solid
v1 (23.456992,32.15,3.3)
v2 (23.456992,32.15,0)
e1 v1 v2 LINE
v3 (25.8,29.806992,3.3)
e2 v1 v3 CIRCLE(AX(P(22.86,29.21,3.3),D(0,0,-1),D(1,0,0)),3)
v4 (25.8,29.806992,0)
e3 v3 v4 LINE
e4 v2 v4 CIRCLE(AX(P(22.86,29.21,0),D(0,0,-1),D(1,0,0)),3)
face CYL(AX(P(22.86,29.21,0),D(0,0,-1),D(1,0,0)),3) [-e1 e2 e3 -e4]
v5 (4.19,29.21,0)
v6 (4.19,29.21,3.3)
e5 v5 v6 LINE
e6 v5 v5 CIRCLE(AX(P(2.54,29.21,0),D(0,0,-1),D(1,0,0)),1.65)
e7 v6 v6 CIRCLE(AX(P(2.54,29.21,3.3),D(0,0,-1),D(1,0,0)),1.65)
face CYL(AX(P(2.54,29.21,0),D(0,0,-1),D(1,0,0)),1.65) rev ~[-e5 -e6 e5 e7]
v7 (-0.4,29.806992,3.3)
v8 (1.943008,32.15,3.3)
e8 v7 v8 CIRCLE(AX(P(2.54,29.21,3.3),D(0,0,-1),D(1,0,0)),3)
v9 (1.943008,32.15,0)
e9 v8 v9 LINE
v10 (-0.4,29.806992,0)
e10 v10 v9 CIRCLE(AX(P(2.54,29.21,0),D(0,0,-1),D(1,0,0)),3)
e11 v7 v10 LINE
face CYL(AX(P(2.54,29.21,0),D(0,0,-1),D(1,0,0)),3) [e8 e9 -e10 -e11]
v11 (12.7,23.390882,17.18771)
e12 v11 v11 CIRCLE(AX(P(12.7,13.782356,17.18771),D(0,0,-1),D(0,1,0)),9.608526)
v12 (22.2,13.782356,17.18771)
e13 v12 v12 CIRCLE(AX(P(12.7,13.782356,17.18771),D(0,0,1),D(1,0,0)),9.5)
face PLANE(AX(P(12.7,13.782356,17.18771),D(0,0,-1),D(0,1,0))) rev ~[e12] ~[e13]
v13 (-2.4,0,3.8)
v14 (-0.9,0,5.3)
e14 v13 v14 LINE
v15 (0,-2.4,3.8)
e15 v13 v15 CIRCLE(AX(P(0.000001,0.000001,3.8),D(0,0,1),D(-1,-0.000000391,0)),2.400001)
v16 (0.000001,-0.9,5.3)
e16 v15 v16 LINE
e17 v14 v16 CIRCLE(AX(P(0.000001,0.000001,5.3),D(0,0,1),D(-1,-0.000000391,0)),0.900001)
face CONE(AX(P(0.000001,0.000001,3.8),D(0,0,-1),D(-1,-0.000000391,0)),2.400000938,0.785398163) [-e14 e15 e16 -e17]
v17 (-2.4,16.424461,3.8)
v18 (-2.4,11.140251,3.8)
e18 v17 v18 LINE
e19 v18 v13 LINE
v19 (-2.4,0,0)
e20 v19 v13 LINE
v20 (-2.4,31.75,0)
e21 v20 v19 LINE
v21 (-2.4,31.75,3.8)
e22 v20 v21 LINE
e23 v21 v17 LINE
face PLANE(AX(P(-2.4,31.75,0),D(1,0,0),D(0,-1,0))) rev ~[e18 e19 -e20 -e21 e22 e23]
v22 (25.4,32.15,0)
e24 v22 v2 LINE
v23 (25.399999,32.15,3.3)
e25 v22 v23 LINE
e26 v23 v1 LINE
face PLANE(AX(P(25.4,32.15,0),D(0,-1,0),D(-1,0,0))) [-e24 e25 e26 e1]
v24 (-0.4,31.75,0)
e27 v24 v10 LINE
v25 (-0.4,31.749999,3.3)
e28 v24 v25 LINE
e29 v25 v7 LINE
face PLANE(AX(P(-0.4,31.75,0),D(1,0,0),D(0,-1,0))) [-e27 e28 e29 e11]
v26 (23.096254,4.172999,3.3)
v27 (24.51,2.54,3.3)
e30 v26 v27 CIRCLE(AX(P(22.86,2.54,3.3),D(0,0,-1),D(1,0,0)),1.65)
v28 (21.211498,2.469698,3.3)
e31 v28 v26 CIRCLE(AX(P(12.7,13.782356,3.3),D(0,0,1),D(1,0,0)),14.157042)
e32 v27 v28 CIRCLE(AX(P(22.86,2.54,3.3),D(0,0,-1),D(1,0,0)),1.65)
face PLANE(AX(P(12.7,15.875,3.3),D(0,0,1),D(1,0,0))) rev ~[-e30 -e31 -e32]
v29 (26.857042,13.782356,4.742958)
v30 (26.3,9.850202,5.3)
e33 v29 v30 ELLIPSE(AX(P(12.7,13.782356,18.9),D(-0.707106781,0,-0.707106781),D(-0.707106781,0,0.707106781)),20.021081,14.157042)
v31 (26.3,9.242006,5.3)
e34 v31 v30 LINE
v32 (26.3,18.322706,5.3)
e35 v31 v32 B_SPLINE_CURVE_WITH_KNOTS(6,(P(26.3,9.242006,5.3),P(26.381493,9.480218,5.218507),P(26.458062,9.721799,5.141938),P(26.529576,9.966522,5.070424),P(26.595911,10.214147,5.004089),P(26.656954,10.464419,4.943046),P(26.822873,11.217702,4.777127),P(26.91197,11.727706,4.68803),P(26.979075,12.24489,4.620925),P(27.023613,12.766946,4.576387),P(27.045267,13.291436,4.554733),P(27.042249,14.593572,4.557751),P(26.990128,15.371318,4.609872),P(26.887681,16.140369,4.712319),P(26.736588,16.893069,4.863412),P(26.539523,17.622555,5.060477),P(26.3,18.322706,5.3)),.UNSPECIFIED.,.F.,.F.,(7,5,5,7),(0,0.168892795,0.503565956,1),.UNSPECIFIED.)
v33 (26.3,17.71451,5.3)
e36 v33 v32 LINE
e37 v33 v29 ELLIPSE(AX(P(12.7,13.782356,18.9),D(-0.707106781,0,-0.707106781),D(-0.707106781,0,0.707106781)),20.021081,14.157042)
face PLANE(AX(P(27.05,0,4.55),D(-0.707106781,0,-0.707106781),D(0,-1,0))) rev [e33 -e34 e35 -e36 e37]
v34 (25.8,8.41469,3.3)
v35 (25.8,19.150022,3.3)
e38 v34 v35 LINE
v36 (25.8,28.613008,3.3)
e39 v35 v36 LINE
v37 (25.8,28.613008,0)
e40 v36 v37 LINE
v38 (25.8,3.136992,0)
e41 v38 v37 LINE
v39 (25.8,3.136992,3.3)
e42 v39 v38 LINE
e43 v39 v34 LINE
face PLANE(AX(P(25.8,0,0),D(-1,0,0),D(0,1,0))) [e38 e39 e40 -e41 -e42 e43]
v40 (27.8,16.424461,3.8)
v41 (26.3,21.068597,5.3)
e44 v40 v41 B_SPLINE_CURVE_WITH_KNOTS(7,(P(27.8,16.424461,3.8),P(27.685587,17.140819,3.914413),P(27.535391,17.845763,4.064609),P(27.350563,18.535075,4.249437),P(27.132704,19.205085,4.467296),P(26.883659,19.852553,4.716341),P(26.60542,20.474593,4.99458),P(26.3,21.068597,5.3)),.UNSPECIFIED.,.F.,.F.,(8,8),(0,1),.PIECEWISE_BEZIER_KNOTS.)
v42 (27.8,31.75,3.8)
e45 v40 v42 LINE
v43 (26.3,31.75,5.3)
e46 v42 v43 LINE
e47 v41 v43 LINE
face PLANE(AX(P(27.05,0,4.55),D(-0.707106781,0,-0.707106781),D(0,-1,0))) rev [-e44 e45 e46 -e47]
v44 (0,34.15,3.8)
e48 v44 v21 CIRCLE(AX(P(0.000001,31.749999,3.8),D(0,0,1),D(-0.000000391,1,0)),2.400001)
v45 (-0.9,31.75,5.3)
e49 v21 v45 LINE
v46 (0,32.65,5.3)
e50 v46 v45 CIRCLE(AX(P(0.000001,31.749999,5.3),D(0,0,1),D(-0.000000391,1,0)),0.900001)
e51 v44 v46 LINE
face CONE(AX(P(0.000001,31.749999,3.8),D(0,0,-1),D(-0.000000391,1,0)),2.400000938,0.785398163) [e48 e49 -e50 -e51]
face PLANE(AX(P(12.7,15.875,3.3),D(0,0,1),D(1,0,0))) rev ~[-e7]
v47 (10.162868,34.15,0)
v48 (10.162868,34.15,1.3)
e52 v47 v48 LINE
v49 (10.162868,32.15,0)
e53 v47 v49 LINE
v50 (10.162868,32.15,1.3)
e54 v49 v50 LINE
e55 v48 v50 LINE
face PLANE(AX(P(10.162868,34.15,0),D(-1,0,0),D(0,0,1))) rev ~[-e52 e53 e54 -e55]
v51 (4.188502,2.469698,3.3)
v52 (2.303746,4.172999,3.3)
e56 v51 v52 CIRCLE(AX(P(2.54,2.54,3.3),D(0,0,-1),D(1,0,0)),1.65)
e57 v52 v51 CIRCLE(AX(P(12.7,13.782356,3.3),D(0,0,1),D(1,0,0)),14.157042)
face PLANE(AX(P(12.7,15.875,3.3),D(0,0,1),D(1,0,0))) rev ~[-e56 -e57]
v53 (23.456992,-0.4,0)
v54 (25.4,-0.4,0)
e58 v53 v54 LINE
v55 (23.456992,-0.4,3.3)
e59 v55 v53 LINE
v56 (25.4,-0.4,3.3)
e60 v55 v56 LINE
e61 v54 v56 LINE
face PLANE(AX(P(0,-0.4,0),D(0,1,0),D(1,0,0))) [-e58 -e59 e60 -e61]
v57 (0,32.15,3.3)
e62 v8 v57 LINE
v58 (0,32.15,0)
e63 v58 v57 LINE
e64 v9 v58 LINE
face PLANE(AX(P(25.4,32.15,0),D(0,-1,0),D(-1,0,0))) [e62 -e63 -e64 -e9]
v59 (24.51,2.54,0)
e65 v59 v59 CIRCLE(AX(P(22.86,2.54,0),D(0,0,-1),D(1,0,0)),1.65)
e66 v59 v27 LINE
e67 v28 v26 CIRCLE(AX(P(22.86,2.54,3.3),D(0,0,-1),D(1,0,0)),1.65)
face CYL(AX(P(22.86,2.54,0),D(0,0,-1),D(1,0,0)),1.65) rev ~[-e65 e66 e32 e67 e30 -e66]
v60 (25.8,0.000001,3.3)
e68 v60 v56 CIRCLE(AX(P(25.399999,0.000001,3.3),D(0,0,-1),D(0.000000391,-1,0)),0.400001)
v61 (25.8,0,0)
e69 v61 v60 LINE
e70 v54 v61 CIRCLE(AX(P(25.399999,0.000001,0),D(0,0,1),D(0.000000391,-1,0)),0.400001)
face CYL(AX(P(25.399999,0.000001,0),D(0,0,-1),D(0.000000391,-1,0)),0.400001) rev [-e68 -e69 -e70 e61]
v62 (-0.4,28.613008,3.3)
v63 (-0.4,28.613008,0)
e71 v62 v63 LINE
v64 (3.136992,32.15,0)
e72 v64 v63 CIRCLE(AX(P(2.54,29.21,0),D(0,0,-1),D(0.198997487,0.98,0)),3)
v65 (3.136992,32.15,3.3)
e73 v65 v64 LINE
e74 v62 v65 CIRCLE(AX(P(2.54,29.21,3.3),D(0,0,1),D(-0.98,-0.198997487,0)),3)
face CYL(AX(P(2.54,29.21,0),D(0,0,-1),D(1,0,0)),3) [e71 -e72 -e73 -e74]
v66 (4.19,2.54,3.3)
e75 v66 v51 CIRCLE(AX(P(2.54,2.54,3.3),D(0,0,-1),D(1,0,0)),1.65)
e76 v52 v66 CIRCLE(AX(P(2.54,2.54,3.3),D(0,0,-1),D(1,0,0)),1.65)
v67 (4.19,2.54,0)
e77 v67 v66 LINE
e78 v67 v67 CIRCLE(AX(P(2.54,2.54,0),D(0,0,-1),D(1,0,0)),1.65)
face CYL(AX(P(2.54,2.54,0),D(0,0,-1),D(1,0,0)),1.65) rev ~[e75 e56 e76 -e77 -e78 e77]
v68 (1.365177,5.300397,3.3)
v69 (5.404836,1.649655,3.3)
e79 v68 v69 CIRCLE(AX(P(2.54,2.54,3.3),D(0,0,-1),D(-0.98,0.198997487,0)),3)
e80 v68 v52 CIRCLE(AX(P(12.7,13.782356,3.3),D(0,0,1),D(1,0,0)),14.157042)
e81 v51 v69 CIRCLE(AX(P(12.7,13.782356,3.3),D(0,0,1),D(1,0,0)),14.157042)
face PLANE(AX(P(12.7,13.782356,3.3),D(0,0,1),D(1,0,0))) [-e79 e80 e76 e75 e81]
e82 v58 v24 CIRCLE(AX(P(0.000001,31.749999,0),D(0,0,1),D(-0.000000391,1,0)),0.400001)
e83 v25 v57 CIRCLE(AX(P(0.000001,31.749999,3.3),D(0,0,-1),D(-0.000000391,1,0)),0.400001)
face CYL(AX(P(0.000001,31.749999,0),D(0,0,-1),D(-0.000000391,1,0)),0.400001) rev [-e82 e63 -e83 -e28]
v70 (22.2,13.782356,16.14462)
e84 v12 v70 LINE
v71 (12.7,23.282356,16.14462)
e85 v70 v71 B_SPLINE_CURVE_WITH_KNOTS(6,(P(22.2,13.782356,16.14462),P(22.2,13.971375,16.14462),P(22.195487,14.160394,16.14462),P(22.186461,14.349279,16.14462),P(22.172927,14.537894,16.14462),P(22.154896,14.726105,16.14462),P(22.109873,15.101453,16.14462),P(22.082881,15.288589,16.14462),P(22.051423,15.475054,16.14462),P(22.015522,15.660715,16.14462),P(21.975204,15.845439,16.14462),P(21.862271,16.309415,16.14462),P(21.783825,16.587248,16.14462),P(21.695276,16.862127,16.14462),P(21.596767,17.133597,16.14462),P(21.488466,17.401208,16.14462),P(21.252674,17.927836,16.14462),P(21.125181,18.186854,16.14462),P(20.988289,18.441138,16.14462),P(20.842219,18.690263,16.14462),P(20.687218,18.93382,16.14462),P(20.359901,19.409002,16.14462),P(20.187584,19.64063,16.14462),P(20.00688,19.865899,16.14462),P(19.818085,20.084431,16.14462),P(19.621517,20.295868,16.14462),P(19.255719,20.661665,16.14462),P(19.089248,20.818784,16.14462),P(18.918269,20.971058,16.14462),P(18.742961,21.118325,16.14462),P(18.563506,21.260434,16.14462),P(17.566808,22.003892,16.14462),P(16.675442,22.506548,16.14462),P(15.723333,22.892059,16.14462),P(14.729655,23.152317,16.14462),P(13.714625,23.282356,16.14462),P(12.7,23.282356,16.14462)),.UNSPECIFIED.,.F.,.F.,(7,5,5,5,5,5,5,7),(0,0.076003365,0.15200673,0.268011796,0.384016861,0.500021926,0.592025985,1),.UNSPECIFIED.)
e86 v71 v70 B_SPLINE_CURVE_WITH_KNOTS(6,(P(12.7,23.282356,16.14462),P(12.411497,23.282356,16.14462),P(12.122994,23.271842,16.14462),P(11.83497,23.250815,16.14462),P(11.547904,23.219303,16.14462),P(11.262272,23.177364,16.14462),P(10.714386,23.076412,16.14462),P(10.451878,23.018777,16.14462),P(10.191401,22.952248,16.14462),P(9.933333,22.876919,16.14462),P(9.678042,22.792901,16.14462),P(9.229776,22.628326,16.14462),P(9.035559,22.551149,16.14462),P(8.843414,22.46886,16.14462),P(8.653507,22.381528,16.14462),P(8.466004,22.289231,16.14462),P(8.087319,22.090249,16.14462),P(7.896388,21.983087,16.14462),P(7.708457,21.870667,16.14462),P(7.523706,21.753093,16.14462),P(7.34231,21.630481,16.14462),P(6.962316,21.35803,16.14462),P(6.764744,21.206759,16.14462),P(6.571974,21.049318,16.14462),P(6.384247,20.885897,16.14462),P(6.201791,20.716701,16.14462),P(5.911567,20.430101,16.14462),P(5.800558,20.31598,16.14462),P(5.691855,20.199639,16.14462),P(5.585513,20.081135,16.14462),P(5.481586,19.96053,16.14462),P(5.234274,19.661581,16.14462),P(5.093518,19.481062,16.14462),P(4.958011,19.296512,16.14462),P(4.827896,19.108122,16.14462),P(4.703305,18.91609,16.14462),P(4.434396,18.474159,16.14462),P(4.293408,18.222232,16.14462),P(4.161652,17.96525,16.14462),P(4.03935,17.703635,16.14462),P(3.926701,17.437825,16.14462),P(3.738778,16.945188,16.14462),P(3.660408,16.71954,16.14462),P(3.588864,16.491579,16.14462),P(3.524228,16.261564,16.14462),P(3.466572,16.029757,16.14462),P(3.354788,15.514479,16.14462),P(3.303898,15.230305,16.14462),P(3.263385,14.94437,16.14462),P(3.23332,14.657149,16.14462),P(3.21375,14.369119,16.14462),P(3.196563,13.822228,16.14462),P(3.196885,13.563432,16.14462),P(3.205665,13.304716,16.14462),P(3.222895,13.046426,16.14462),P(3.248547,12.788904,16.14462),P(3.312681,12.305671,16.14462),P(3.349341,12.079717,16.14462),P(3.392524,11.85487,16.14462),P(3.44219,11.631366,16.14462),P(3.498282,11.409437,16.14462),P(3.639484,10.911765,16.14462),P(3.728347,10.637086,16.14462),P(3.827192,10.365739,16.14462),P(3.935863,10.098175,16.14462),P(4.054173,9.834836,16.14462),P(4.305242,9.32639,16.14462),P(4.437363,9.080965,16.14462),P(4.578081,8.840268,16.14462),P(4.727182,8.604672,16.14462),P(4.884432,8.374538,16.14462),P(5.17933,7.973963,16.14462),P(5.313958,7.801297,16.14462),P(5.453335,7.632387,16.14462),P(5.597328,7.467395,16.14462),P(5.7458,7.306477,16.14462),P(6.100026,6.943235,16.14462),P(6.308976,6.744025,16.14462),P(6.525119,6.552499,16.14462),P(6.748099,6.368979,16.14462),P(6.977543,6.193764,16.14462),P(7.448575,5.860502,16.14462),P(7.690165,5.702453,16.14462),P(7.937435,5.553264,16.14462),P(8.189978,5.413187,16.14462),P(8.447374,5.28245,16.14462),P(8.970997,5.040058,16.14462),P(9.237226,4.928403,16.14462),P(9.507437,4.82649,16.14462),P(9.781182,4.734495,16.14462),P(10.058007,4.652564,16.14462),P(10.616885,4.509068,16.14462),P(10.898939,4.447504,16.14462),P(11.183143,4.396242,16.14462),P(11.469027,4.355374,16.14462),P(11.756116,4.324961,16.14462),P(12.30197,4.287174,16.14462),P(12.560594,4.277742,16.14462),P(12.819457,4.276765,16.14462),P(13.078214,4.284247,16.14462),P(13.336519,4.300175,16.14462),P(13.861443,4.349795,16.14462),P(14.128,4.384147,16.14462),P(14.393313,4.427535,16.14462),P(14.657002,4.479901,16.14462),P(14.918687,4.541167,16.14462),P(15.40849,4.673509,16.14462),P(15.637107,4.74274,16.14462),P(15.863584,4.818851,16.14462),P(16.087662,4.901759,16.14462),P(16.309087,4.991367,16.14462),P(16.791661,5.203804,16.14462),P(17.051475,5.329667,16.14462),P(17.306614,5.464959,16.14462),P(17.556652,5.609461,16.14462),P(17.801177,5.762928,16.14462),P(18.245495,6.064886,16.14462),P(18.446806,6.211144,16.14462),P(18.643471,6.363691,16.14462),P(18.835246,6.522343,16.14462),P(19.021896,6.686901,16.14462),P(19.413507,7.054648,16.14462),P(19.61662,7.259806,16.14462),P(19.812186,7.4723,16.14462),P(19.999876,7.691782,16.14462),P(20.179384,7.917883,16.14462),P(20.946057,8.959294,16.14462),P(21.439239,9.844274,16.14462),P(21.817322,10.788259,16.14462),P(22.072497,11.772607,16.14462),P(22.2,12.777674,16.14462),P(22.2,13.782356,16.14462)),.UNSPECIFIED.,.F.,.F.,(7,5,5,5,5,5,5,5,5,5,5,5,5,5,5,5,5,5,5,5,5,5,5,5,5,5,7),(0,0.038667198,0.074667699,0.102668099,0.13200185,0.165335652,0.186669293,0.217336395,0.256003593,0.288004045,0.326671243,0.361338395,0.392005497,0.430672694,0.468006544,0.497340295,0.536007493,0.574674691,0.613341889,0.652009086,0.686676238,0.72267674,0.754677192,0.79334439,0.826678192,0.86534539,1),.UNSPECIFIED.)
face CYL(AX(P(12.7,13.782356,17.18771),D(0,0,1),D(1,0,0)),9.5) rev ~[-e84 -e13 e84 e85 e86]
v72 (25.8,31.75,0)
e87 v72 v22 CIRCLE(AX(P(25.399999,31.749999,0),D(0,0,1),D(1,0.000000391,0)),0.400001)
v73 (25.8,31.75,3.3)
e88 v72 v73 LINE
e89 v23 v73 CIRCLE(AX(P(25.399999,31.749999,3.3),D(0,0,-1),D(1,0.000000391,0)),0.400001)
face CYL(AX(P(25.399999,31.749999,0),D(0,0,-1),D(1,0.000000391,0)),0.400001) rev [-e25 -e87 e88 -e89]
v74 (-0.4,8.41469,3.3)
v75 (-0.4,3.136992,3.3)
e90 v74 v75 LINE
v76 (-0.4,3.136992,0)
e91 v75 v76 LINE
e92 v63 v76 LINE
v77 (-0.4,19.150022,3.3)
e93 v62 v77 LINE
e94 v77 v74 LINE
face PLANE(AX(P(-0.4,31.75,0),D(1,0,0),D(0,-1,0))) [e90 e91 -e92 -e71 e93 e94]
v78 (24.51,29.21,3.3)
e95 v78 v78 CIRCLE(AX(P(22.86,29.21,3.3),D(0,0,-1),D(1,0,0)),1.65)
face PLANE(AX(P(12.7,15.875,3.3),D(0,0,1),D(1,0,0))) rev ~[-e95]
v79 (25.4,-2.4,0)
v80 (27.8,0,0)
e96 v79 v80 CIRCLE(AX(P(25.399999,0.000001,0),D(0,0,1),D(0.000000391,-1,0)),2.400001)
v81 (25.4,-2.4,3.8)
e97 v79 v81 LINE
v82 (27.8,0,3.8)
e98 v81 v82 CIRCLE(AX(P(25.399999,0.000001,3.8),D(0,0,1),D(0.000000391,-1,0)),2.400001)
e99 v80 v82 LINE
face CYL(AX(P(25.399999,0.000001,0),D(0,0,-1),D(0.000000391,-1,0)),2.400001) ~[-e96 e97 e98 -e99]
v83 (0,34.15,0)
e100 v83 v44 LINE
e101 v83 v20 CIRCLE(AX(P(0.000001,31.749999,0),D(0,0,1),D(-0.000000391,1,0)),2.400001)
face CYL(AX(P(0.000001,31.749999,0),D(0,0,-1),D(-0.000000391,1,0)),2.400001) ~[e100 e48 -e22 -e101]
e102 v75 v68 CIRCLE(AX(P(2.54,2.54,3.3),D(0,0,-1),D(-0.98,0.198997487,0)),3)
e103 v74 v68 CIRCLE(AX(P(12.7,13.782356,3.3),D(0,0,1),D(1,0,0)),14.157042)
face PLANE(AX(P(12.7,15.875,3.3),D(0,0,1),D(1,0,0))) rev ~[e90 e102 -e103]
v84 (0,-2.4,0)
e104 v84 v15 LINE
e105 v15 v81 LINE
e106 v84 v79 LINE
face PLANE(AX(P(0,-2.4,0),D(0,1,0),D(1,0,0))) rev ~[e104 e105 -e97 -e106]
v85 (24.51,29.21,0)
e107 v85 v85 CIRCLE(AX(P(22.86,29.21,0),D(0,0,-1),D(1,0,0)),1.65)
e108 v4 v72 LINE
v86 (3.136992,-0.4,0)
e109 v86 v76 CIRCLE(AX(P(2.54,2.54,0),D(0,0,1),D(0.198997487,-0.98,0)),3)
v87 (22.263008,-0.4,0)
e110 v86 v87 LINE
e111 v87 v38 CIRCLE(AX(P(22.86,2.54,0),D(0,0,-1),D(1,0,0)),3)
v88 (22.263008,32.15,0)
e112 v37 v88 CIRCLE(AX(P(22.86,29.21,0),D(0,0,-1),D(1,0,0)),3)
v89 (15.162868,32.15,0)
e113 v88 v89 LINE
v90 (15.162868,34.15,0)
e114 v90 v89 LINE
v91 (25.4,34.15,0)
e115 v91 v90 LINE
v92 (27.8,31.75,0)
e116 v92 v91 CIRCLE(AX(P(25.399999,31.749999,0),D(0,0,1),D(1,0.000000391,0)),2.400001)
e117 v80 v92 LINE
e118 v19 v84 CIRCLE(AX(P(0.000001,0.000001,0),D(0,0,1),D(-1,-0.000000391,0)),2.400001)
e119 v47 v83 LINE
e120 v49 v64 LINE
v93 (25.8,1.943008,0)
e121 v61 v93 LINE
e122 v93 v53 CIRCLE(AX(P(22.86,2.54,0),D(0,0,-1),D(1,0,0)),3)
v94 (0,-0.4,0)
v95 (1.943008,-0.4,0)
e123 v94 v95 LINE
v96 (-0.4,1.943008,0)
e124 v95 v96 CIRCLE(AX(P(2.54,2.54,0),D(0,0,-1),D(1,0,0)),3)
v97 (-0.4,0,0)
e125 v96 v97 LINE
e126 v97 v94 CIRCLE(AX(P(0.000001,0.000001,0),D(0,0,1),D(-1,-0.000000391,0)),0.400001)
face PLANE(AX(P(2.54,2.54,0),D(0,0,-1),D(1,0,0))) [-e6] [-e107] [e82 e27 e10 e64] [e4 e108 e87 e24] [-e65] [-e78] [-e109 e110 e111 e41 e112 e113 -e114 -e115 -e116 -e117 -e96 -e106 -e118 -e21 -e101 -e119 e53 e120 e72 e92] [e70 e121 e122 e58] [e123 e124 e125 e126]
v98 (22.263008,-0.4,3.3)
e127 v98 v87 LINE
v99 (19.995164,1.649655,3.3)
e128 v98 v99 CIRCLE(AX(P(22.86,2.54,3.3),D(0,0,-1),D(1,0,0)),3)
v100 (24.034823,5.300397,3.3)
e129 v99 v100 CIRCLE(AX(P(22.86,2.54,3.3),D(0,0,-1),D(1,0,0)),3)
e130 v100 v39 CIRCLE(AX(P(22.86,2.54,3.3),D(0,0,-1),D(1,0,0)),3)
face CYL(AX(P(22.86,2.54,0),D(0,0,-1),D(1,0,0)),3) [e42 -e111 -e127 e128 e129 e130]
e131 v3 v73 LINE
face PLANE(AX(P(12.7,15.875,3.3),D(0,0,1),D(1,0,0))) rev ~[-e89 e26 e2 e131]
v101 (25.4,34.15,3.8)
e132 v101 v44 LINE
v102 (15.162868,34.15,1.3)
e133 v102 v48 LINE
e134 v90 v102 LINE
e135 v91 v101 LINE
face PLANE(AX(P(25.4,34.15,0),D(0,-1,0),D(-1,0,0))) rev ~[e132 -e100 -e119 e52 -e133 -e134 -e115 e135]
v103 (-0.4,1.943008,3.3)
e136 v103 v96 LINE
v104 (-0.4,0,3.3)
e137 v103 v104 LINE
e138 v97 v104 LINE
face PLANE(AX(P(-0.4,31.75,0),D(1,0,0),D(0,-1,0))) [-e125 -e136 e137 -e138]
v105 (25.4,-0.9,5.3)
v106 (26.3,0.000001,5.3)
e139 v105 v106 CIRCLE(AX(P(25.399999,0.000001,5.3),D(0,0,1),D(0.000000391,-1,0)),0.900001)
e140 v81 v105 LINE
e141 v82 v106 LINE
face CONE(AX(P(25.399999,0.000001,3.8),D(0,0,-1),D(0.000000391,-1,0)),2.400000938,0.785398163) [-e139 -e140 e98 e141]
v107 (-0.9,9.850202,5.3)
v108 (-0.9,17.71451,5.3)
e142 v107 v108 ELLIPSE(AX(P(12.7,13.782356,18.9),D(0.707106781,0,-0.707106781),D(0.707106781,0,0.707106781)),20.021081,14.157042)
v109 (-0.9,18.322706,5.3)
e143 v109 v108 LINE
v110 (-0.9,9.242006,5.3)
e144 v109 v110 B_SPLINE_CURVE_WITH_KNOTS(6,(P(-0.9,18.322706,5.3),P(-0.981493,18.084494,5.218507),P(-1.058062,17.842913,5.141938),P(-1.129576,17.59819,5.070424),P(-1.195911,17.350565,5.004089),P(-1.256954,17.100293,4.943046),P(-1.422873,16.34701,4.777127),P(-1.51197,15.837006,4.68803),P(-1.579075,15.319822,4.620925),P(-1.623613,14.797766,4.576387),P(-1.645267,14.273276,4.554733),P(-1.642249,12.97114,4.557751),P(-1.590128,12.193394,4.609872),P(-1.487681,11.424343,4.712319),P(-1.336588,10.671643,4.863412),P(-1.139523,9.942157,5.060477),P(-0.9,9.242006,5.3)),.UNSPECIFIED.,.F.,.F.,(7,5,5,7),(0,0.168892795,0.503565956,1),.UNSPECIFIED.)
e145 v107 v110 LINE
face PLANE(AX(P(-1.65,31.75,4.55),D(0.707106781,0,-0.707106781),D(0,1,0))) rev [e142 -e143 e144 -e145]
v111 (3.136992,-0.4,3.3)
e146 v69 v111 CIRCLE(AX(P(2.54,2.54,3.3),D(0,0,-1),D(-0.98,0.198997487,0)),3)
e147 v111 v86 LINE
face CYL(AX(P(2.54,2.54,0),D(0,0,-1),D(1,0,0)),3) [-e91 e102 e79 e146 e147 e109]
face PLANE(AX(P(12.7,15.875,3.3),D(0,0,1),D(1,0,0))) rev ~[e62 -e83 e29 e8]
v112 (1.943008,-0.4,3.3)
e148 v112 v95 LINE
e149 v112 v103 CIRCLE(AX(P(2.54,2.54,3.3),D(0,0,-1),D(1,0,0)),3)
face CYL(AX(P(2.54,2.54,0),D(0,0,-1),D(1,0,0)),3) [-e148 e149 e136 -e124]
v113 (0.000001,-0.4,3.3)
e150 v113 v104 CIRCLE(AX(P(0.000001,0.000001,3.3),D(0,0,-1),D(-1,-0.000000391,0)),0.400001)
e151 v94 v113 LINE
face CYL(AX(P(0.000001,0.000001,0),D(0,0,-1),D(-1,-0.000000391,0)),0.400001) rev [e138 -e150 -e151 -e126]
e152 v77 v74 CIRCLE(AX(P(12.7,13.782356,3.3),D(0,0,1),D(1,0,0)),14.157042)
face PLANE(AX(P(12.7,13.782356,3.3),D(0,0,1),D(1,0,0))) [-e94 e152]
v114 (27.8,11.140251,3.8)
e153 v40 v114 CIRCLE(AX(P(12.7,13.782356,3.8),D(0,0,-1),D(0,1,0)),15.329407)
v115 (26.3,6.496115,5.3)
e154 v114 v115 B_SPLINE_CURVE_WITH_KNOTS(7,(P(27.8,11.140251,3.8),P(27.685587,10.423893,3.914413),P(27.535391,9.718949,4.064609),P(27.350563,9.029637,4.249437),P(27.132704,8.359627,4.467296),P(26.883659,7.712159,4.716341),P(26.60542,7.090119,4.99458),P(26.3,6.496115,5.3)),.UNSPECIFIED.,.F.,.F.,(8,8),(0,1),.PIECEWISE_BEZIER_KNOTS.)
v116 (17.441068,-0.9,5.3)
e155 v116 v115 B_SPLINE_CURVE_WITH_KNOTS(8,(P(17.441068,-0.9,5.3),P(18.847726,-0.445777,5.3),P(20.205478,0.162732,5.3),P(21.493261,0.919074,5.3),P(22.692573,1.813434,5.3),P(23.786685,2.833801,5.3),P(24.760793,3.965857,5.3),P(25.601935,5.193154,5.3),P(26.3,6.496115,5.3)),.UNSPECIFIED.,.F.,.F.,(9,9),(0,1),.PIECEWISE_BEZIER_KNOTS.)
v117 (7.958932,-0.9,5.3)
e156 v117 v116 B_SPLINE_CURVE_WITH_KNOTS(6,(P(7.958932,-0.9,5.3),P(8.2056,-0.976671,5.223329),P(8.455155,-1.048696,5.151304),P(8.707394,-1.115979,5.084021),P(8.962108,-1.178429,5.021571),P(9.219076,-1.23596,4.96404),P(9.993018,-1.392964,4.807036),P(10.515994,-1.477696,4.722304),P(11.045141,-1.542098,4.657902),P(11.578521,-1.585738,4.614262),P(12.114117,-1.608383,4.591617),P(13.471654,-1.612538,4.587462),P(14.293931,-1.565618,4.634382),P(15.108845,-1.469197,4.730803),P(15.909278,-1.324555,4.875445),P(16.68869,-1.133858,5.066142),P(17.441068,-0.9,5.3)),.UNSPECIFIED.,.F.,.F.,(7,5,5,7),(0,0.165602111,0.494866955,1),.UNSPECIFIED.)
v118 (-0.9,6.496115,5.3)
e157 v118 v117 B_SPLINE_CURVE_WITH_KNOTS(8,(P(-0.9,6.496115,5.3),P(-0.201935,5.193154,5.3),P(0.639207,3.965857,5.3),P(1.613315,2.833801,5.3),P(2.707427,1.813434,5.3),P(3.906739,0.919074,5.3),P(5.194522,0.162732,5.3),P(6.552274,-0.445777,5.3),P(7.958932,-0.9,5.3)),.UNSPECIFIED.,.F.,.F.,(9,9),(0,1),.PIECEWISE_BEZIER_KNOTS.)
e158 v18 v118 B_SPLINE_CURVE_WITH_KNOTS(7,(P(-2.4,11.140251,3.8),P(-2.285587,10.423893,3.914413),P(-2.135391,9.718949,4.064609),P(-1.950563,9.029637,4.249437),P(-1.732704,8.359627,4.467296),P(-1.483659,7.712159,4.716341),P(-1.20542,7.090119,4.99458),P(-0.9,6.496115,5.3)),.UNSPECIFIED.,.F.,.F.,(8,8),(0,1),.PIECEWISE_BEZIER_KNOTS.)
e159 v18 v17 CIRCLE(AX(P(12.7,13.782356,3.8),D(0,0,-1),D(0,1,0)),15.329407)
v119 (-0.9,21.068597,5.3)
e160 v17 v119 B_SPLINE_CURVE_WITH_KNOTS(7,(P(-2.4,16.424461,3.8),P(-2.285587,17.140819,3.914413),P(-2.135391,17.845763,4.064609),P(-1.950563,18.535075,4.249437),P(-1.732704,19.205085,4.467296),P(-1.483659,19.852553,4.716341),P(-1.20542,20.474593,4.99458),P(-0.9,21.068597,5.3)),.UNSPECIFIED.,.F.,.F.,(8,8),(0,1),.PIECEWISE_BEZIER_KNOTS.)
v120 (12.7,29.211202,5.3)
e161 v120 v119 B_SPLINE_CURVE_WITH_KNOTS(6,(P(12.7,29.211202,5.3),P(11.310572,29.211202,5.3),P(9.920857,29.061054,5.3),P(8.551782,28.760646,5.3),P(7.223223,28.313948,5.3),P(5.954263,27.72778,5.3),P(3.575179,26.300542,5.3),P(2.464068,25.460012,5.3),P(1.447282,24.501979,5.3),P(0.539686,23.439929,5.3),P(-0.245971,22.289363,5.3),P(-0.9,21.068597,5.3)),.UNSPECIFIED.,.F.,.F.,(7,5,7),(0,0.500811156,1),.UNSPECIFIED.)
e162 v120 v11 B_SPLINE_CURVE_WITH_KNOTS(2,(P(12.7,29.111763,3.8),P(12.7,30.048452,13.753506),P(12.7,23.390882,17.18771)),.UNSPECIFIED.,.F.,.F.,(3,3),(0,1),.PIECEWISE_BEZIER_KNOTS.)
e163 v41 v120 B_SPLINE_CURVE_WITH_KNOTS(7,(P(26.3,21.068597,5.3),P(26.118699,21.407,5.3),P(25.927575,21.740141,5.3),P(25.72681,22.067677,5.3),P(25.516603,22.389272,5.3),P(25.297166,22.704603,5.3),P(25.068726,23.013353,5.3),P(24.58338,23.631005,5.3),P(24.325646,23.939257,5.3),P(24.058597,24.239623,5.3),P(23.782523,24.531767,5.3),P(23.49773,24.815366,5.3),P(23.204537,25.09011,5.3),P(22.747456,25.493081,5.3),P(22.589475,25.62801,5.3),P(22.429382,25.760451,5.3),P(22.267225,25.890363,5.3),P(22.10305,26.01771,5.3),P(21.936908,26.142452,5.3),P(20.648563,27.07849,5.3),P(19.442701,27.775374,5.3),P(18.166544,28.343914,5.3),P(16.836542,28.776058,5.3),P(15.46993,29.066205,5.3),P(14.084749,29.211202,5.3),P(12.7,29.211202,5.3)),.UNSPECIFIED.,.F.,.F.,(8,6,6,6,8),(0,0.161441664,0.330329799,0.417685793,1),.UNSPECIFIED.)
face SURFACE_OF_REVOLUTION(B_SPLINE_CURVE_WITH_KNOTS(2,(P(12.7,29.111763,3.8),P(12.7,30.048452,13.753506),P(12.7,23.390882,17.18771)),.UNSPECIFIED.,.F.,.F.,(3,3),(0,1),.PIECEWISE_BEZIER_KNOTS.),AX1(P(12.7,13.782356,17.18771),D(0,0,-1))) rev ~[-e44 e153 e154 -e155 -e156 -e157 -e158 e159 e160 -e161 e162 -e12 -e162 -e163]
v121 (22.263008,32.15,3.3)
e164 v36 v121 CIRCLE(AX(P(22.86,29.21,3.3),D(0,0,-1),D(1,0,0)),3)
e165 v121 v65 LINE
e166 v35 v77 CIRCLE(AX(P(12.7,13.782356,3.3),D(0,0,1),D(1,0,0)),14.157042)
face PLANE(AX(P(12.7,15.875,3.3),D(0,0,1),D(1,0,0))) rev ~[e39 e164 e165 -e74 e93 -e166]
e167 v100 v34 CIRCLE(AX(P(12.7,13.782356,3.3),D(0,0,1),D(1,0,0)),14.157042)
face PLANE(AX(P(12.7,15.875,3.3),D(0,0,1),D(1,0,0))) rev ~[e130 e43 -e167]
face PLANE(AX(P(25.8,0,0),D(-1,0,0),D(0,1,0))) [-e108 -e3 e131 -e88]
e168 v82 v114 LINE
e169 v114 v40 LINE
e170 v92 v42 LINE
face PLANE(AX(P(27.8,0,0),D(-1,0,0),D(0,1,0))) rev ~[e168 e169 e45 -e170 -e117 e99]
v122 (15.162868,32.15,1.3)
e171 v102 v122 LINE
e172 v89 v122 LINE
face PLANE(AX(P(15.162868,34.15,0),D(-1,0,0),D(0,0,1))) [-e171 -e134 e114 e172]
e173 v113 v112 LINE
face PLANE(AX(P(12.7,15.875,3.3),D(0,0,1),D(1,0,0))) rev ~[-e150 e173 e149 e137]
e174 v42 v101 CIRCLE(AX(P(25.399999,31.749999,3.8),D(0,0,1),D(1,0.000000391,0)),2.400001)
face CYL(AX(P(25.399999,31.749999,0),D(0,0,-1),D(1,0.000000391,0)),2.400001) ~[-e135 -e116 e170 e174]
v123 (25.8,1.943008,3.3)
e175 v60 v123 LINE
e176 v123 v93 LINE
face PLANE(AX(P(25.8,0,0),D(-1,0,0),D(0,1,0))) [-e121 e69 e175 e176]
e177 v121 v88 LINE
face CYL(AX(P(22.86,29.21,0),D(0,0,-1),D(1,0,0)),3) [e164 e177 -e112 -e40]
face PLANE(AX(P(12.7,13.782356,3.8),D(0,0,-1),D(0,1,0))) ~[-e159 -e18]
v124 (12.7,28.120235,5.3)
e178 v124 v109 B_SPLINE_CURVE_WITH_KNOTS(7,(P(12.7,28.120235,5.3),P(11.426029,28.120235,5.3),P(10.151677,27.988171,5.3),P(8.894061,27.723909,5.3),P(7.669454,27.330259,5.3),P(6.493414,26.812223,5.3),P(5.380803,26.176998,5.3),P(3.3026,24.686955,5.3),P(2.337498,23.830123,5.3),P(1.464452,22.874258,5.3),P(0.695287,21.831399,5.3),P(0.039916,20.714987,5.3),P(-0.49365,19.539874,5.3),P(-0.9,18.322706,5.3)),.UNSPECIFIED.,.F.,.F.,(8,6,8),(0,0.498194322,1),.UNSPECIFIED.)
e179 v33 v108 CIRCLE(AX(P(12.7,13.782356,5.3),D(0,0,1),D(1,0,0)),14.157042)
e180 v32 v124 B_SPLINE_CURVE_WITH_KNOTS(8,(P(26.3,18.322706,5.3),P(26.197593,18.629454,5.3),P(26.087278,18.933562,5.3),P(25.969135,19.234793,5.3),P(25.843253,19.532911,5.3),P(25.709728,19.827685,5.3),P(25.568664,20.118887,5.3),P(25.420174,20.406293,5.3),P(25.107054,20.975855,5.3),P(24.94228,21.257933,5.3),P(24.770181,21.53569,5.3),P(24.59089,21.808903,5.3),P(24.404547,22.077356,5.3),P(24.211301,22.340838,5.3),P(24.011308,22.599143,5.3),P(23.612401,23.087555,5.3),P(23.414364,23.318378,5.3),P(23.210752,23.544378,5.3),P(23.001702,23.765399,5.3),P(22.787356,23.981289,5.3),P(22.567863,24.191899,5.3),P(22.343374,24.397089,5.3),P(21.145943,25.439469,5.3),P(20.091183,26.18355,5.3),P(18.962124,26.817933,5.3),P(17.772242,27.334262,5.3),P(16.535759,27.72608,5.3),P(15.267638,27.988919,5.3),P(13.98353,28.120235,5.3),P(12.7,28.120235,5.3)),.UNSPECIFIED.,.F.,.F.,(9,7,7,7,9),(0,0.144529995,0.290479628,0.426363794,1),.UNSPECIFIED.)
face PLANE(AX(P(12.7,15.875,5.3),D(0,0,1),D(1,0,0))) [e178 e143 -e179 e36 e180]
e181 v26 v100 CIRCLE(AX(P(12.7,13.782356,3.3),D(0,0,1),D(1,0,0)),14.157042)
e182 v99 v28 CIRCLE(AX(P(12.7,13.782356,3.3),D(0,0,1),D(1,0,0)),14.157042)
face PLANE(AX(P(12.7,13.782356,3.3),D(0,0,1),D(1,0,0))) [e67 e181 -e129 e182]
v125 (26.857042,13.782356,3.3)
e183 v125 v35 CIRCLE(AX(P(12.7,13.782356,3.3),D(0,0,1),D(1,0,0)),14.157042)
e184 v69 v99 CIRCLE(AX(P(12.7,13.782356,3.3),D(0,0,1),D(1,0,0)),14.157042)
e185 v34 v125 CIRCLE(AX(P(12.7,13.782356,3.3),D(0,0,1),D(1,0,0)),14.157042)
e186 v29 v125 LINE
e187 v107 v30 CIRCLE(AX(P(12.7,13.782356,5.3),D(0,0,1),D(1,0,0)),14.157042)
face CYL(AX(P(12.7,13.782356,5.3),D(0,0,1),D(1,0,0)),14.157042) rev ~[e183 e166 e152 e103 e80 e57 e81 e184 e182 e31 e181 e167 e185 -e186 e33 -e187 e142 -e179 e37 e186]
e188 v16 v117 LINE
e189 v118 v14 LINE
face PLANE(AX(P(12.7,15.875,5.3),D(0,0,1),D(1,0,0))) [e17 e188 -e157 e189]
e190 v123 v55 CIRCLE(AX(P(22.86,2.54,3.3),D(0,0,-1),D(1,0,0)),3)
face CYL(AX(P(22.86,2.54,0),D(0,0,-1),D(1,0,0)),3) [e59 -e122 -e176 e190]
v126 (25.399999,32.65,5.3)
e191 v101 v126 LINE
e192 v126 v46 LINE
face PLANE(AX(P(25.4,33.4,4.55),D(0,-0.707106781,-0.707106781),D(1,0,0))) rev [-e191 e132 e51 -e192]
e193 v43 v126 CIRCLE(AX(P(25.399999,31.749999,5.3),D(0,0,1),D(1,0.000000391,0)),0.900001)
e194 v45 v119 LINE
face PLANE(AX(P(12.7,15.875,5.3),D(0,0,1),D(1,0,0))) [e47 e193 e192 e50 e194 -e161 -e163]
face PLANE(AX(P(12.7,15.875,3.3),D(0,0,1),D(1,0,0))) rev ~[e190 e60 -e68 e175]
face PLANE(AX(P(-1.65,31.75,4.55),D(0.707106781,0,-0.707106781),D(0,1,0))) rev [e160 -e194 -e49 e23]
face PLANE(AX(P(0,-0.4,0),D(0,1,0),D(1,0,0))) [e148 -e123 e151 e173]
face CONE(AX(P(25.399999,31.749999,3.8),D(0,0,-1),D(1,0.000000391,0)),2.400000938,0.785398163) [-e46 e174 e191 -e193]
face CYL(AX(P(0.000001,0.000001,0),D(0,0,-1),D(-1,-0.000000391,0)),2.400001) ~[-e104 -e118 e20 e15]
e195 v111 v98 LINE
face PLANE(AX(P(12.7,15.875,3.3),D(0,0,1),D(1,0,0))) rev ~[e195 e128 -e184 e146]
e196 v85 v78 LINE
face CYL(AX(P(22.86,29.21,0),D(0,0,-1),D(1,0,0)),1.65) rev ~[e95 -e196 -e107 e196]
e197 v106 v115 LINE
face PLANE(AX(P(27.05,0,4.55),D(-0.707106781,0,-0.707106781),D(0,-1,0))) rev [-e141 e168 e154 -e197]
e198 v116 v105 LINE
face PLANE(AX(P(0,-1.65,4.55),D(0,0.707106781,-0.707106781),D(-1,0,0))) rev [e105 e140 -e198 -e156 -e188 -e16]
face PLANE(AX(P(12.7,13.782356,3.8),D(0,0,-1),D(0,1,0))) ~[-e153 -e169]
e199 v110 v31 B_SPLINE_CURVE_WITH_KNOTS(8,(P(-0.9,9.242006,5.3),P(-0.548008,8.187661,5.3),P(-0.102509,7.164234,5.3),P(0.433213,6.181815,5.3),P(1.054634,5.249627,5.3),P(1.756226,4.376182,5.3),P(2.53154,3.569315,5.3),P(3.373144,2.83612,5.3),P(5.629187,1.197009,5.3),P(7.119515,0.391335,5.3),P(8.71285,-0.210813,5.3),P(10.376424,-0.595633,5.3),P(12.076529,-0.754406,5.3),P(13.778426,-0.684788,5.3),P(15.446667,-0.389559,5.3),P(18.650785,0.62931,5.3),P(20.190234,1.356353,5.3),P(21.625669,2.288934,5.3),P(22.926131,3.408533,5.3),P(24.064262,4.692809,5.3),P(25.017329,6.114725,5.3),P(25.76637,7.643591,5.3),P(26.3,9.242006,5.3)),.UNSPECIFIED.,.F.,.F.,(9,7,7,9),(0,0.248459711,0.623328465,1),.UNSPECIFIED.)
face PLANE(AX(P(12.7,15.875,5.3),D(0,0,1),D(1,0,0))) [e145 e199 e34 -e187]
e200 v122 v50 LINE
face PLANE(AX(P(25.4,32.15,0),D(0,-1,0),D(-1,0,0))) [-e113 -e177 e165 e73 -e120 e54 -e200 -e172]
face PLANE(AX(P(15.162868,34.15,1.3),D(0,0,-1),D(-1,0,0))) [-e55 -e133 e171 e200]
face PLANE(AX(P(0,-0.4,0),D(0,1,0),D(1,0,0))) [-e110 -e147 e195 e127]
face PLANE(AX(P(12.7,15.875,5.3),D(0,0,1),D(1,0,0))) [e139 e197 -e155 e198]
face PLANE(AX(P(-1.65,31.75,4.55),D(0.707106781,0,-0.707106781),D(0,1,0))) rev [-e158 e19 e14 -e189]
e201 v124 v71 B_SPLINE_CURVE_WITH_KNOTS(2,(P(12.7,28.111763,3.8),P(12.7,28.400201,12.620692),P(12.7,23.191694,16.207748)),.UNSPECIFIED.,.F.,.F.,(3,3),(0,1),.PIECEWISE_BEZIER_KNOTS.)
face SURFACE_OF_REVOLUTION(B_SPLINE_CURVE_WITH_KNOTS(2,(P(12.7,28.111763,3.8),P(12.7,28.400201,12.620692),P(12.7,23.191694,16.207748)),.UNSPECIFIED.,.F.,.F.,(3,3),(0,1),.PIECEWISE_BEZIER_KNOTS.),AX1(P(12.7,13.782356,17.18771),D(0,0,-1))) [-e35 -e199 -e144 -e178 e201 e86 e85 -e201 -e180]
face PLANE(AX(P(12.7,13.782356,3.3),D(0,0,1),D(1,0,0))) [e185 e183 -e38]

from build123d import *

# Parameters (mm, degrees)
PAD004_DEPTH    = 5.3
THICKNESS_T     = -2
CHAMFER_SIZE    = 1.5
SKETCH016_R     = 3
SKETCH016_R_2   = 1.65
PAD005_DEPTH    = 3.3
SKETCH018_R     = 9.5
POCKET_DEPTH    = 14
SKETCH019_R     = 14.157042
POCKET004_DEPTH = 2
SKETCH020_W     = 5
SKETCH020_H     = 1.3
POCKET005_DEPTH = 2


with BuildPart() as part:
    # Sketch015 → Pad004 (new body)
    with BuildSketch(Plane.XY):
        with BuildLine():
            Line((-2.4, 31.75), (-2.4, 0))
            ThreePointArc((-2.4, 0), (-1.697056, -1.697056), (0, -2.4))
            Line((0, -2.4), (25.4, -2.4))
            ThreePointArc((25.4, -2.4), (27.097056, -1.697056), (27.8, 0))
            Line((27.8, 0), (27.8, 31.75))
            ThreePointArc((27.8, 31.75), (27.097056, 33.447056), (25.4, 34.15))
            Line((25.4, 34.15), (0, 34.15))
            ThreePointArc((0, 34.15), (-1.697056, 33.447056), (-2.4, 31.75))
        make_face()
    extrude(amount=PAD004_DEPTH)

    # Thickness
    thickness_openings = [part.faces().sort_by_distance(p)[0] for p in [
        (12.7, 15.875, 0),
    ]]
    offset(amount=THICKNESS_T, openings=thickness_openings)

    # Chamfer
    chamfer_edges = [part.edges().sort_by_distance(p)[0] for p in [
        (-2.4, 15.875, 5.3),
    ]]
    chamfer(chamfer_edges, length=CHAMFER_SIZE)

    # Sketch016 (on Face10 of Thickness) → Pad005 (join)
    with BuildSketch(Plane(origin=(0, 0, 0), x_dir=(1, 0, 0), z_dir=(0, 0, -1))):
        with Locations((2.54, -2.54)):
            Circle(SKETCH016_R)
        with Locations((2.54, -2.54)):
            Circle(SKETCH016_R_2, mode=Mode.SUBTRACT)
        with Locations((22.86, -2.54)):
            Circle(SKETCH016_R)
        with Locations((22.86, -2.54)):
            Circle(SKETCH016_R_2, mode=Mode.SUBTRACT)
        with Locations((22.86, -29.21)):
            Circle(SKETCH016_R)
        with Locations((22.86, -29.21)):
            Circle(SKETCH016_R_2, mode=Mode.SUBTRACT)
        with Locations((2.54, -29.21)):
            Circle(SKETCH016_R)
        with Locations((2.54, -29.21)):
            Circle(SKETCH016_R_2, mode=Mode.SUBTRACT)
    extrude(amount=-PAD005_DEPTH)

    # Sketch017 (on DatumPlane) → Revolution (revolve)
    with BuildSketch(Plane.YZ.offset(12.7)):
        with BuildLine():
            Line((28.111763, 3.8), (29.111763, 3.8))
            add(Edge.make_bspline(
                [(29.111763, 3.8), (30.048452, 13.753506), (23.390882, 17.18771)],
                knots=[0, 0, 0, 1, 1, 1], degree=2))
            Line((23.390882, 17.18771), (13.782356, 17.18771))
            Line((13.782356, 17.18771), (13.782356, 16.207748))
            Line((13.782356, 16.207748), (23.191694, 16.207748))
            add(Edge.make_bspline(
                [(28.111763, 3.8), (28.400201, 12.620692), (23.191694, 16.207748)],
                knots=[0, 0, 0, 1, 1, 1], degree=2))
        make_face()
    revolve(axis=Axis((12.7, 13.782356, 17.18771), (0, 0, -1)))

    # Sketch018 (on Face6 of Revolution) → Pocket (cut)
    with BuildSketch(Plane.XY.offset(17.18771)):
        with Locations((12.7, 13.782356)):
            Circle(SKETCH018_R)
    extrude(amount=-POCKET_DEPTH, mode=Mode.SUBTRACT)

    # Sketch019 (on Face5 of Pocket) → Pocket004 (cut)
    with BuildSketch(Plane.XY.offset(5.3)):
        with Locations((12.7, 13.782356)):
            Circle(SKETCH019_R)
    extrude(amount=-POCKET004_DEPTH, mode=Mode.SUBTRACT)

    # Sketch020 (on Face25 of Pocket004) → Pocket005 (cut)
    with BuildSketch(Plane(origin=(0, 34.15, 0), x_dir=(-1, 0, 0), z_dir=(0, 1, 0))):
        with Locations((-12.662868, 0.65)):
            Rectangle(SKETCH020_W, SKETCH020_H)
    extrude(amount=-POCKET005_DEPTH, mode=Mode.SUBTRACT)


solid = part.part
